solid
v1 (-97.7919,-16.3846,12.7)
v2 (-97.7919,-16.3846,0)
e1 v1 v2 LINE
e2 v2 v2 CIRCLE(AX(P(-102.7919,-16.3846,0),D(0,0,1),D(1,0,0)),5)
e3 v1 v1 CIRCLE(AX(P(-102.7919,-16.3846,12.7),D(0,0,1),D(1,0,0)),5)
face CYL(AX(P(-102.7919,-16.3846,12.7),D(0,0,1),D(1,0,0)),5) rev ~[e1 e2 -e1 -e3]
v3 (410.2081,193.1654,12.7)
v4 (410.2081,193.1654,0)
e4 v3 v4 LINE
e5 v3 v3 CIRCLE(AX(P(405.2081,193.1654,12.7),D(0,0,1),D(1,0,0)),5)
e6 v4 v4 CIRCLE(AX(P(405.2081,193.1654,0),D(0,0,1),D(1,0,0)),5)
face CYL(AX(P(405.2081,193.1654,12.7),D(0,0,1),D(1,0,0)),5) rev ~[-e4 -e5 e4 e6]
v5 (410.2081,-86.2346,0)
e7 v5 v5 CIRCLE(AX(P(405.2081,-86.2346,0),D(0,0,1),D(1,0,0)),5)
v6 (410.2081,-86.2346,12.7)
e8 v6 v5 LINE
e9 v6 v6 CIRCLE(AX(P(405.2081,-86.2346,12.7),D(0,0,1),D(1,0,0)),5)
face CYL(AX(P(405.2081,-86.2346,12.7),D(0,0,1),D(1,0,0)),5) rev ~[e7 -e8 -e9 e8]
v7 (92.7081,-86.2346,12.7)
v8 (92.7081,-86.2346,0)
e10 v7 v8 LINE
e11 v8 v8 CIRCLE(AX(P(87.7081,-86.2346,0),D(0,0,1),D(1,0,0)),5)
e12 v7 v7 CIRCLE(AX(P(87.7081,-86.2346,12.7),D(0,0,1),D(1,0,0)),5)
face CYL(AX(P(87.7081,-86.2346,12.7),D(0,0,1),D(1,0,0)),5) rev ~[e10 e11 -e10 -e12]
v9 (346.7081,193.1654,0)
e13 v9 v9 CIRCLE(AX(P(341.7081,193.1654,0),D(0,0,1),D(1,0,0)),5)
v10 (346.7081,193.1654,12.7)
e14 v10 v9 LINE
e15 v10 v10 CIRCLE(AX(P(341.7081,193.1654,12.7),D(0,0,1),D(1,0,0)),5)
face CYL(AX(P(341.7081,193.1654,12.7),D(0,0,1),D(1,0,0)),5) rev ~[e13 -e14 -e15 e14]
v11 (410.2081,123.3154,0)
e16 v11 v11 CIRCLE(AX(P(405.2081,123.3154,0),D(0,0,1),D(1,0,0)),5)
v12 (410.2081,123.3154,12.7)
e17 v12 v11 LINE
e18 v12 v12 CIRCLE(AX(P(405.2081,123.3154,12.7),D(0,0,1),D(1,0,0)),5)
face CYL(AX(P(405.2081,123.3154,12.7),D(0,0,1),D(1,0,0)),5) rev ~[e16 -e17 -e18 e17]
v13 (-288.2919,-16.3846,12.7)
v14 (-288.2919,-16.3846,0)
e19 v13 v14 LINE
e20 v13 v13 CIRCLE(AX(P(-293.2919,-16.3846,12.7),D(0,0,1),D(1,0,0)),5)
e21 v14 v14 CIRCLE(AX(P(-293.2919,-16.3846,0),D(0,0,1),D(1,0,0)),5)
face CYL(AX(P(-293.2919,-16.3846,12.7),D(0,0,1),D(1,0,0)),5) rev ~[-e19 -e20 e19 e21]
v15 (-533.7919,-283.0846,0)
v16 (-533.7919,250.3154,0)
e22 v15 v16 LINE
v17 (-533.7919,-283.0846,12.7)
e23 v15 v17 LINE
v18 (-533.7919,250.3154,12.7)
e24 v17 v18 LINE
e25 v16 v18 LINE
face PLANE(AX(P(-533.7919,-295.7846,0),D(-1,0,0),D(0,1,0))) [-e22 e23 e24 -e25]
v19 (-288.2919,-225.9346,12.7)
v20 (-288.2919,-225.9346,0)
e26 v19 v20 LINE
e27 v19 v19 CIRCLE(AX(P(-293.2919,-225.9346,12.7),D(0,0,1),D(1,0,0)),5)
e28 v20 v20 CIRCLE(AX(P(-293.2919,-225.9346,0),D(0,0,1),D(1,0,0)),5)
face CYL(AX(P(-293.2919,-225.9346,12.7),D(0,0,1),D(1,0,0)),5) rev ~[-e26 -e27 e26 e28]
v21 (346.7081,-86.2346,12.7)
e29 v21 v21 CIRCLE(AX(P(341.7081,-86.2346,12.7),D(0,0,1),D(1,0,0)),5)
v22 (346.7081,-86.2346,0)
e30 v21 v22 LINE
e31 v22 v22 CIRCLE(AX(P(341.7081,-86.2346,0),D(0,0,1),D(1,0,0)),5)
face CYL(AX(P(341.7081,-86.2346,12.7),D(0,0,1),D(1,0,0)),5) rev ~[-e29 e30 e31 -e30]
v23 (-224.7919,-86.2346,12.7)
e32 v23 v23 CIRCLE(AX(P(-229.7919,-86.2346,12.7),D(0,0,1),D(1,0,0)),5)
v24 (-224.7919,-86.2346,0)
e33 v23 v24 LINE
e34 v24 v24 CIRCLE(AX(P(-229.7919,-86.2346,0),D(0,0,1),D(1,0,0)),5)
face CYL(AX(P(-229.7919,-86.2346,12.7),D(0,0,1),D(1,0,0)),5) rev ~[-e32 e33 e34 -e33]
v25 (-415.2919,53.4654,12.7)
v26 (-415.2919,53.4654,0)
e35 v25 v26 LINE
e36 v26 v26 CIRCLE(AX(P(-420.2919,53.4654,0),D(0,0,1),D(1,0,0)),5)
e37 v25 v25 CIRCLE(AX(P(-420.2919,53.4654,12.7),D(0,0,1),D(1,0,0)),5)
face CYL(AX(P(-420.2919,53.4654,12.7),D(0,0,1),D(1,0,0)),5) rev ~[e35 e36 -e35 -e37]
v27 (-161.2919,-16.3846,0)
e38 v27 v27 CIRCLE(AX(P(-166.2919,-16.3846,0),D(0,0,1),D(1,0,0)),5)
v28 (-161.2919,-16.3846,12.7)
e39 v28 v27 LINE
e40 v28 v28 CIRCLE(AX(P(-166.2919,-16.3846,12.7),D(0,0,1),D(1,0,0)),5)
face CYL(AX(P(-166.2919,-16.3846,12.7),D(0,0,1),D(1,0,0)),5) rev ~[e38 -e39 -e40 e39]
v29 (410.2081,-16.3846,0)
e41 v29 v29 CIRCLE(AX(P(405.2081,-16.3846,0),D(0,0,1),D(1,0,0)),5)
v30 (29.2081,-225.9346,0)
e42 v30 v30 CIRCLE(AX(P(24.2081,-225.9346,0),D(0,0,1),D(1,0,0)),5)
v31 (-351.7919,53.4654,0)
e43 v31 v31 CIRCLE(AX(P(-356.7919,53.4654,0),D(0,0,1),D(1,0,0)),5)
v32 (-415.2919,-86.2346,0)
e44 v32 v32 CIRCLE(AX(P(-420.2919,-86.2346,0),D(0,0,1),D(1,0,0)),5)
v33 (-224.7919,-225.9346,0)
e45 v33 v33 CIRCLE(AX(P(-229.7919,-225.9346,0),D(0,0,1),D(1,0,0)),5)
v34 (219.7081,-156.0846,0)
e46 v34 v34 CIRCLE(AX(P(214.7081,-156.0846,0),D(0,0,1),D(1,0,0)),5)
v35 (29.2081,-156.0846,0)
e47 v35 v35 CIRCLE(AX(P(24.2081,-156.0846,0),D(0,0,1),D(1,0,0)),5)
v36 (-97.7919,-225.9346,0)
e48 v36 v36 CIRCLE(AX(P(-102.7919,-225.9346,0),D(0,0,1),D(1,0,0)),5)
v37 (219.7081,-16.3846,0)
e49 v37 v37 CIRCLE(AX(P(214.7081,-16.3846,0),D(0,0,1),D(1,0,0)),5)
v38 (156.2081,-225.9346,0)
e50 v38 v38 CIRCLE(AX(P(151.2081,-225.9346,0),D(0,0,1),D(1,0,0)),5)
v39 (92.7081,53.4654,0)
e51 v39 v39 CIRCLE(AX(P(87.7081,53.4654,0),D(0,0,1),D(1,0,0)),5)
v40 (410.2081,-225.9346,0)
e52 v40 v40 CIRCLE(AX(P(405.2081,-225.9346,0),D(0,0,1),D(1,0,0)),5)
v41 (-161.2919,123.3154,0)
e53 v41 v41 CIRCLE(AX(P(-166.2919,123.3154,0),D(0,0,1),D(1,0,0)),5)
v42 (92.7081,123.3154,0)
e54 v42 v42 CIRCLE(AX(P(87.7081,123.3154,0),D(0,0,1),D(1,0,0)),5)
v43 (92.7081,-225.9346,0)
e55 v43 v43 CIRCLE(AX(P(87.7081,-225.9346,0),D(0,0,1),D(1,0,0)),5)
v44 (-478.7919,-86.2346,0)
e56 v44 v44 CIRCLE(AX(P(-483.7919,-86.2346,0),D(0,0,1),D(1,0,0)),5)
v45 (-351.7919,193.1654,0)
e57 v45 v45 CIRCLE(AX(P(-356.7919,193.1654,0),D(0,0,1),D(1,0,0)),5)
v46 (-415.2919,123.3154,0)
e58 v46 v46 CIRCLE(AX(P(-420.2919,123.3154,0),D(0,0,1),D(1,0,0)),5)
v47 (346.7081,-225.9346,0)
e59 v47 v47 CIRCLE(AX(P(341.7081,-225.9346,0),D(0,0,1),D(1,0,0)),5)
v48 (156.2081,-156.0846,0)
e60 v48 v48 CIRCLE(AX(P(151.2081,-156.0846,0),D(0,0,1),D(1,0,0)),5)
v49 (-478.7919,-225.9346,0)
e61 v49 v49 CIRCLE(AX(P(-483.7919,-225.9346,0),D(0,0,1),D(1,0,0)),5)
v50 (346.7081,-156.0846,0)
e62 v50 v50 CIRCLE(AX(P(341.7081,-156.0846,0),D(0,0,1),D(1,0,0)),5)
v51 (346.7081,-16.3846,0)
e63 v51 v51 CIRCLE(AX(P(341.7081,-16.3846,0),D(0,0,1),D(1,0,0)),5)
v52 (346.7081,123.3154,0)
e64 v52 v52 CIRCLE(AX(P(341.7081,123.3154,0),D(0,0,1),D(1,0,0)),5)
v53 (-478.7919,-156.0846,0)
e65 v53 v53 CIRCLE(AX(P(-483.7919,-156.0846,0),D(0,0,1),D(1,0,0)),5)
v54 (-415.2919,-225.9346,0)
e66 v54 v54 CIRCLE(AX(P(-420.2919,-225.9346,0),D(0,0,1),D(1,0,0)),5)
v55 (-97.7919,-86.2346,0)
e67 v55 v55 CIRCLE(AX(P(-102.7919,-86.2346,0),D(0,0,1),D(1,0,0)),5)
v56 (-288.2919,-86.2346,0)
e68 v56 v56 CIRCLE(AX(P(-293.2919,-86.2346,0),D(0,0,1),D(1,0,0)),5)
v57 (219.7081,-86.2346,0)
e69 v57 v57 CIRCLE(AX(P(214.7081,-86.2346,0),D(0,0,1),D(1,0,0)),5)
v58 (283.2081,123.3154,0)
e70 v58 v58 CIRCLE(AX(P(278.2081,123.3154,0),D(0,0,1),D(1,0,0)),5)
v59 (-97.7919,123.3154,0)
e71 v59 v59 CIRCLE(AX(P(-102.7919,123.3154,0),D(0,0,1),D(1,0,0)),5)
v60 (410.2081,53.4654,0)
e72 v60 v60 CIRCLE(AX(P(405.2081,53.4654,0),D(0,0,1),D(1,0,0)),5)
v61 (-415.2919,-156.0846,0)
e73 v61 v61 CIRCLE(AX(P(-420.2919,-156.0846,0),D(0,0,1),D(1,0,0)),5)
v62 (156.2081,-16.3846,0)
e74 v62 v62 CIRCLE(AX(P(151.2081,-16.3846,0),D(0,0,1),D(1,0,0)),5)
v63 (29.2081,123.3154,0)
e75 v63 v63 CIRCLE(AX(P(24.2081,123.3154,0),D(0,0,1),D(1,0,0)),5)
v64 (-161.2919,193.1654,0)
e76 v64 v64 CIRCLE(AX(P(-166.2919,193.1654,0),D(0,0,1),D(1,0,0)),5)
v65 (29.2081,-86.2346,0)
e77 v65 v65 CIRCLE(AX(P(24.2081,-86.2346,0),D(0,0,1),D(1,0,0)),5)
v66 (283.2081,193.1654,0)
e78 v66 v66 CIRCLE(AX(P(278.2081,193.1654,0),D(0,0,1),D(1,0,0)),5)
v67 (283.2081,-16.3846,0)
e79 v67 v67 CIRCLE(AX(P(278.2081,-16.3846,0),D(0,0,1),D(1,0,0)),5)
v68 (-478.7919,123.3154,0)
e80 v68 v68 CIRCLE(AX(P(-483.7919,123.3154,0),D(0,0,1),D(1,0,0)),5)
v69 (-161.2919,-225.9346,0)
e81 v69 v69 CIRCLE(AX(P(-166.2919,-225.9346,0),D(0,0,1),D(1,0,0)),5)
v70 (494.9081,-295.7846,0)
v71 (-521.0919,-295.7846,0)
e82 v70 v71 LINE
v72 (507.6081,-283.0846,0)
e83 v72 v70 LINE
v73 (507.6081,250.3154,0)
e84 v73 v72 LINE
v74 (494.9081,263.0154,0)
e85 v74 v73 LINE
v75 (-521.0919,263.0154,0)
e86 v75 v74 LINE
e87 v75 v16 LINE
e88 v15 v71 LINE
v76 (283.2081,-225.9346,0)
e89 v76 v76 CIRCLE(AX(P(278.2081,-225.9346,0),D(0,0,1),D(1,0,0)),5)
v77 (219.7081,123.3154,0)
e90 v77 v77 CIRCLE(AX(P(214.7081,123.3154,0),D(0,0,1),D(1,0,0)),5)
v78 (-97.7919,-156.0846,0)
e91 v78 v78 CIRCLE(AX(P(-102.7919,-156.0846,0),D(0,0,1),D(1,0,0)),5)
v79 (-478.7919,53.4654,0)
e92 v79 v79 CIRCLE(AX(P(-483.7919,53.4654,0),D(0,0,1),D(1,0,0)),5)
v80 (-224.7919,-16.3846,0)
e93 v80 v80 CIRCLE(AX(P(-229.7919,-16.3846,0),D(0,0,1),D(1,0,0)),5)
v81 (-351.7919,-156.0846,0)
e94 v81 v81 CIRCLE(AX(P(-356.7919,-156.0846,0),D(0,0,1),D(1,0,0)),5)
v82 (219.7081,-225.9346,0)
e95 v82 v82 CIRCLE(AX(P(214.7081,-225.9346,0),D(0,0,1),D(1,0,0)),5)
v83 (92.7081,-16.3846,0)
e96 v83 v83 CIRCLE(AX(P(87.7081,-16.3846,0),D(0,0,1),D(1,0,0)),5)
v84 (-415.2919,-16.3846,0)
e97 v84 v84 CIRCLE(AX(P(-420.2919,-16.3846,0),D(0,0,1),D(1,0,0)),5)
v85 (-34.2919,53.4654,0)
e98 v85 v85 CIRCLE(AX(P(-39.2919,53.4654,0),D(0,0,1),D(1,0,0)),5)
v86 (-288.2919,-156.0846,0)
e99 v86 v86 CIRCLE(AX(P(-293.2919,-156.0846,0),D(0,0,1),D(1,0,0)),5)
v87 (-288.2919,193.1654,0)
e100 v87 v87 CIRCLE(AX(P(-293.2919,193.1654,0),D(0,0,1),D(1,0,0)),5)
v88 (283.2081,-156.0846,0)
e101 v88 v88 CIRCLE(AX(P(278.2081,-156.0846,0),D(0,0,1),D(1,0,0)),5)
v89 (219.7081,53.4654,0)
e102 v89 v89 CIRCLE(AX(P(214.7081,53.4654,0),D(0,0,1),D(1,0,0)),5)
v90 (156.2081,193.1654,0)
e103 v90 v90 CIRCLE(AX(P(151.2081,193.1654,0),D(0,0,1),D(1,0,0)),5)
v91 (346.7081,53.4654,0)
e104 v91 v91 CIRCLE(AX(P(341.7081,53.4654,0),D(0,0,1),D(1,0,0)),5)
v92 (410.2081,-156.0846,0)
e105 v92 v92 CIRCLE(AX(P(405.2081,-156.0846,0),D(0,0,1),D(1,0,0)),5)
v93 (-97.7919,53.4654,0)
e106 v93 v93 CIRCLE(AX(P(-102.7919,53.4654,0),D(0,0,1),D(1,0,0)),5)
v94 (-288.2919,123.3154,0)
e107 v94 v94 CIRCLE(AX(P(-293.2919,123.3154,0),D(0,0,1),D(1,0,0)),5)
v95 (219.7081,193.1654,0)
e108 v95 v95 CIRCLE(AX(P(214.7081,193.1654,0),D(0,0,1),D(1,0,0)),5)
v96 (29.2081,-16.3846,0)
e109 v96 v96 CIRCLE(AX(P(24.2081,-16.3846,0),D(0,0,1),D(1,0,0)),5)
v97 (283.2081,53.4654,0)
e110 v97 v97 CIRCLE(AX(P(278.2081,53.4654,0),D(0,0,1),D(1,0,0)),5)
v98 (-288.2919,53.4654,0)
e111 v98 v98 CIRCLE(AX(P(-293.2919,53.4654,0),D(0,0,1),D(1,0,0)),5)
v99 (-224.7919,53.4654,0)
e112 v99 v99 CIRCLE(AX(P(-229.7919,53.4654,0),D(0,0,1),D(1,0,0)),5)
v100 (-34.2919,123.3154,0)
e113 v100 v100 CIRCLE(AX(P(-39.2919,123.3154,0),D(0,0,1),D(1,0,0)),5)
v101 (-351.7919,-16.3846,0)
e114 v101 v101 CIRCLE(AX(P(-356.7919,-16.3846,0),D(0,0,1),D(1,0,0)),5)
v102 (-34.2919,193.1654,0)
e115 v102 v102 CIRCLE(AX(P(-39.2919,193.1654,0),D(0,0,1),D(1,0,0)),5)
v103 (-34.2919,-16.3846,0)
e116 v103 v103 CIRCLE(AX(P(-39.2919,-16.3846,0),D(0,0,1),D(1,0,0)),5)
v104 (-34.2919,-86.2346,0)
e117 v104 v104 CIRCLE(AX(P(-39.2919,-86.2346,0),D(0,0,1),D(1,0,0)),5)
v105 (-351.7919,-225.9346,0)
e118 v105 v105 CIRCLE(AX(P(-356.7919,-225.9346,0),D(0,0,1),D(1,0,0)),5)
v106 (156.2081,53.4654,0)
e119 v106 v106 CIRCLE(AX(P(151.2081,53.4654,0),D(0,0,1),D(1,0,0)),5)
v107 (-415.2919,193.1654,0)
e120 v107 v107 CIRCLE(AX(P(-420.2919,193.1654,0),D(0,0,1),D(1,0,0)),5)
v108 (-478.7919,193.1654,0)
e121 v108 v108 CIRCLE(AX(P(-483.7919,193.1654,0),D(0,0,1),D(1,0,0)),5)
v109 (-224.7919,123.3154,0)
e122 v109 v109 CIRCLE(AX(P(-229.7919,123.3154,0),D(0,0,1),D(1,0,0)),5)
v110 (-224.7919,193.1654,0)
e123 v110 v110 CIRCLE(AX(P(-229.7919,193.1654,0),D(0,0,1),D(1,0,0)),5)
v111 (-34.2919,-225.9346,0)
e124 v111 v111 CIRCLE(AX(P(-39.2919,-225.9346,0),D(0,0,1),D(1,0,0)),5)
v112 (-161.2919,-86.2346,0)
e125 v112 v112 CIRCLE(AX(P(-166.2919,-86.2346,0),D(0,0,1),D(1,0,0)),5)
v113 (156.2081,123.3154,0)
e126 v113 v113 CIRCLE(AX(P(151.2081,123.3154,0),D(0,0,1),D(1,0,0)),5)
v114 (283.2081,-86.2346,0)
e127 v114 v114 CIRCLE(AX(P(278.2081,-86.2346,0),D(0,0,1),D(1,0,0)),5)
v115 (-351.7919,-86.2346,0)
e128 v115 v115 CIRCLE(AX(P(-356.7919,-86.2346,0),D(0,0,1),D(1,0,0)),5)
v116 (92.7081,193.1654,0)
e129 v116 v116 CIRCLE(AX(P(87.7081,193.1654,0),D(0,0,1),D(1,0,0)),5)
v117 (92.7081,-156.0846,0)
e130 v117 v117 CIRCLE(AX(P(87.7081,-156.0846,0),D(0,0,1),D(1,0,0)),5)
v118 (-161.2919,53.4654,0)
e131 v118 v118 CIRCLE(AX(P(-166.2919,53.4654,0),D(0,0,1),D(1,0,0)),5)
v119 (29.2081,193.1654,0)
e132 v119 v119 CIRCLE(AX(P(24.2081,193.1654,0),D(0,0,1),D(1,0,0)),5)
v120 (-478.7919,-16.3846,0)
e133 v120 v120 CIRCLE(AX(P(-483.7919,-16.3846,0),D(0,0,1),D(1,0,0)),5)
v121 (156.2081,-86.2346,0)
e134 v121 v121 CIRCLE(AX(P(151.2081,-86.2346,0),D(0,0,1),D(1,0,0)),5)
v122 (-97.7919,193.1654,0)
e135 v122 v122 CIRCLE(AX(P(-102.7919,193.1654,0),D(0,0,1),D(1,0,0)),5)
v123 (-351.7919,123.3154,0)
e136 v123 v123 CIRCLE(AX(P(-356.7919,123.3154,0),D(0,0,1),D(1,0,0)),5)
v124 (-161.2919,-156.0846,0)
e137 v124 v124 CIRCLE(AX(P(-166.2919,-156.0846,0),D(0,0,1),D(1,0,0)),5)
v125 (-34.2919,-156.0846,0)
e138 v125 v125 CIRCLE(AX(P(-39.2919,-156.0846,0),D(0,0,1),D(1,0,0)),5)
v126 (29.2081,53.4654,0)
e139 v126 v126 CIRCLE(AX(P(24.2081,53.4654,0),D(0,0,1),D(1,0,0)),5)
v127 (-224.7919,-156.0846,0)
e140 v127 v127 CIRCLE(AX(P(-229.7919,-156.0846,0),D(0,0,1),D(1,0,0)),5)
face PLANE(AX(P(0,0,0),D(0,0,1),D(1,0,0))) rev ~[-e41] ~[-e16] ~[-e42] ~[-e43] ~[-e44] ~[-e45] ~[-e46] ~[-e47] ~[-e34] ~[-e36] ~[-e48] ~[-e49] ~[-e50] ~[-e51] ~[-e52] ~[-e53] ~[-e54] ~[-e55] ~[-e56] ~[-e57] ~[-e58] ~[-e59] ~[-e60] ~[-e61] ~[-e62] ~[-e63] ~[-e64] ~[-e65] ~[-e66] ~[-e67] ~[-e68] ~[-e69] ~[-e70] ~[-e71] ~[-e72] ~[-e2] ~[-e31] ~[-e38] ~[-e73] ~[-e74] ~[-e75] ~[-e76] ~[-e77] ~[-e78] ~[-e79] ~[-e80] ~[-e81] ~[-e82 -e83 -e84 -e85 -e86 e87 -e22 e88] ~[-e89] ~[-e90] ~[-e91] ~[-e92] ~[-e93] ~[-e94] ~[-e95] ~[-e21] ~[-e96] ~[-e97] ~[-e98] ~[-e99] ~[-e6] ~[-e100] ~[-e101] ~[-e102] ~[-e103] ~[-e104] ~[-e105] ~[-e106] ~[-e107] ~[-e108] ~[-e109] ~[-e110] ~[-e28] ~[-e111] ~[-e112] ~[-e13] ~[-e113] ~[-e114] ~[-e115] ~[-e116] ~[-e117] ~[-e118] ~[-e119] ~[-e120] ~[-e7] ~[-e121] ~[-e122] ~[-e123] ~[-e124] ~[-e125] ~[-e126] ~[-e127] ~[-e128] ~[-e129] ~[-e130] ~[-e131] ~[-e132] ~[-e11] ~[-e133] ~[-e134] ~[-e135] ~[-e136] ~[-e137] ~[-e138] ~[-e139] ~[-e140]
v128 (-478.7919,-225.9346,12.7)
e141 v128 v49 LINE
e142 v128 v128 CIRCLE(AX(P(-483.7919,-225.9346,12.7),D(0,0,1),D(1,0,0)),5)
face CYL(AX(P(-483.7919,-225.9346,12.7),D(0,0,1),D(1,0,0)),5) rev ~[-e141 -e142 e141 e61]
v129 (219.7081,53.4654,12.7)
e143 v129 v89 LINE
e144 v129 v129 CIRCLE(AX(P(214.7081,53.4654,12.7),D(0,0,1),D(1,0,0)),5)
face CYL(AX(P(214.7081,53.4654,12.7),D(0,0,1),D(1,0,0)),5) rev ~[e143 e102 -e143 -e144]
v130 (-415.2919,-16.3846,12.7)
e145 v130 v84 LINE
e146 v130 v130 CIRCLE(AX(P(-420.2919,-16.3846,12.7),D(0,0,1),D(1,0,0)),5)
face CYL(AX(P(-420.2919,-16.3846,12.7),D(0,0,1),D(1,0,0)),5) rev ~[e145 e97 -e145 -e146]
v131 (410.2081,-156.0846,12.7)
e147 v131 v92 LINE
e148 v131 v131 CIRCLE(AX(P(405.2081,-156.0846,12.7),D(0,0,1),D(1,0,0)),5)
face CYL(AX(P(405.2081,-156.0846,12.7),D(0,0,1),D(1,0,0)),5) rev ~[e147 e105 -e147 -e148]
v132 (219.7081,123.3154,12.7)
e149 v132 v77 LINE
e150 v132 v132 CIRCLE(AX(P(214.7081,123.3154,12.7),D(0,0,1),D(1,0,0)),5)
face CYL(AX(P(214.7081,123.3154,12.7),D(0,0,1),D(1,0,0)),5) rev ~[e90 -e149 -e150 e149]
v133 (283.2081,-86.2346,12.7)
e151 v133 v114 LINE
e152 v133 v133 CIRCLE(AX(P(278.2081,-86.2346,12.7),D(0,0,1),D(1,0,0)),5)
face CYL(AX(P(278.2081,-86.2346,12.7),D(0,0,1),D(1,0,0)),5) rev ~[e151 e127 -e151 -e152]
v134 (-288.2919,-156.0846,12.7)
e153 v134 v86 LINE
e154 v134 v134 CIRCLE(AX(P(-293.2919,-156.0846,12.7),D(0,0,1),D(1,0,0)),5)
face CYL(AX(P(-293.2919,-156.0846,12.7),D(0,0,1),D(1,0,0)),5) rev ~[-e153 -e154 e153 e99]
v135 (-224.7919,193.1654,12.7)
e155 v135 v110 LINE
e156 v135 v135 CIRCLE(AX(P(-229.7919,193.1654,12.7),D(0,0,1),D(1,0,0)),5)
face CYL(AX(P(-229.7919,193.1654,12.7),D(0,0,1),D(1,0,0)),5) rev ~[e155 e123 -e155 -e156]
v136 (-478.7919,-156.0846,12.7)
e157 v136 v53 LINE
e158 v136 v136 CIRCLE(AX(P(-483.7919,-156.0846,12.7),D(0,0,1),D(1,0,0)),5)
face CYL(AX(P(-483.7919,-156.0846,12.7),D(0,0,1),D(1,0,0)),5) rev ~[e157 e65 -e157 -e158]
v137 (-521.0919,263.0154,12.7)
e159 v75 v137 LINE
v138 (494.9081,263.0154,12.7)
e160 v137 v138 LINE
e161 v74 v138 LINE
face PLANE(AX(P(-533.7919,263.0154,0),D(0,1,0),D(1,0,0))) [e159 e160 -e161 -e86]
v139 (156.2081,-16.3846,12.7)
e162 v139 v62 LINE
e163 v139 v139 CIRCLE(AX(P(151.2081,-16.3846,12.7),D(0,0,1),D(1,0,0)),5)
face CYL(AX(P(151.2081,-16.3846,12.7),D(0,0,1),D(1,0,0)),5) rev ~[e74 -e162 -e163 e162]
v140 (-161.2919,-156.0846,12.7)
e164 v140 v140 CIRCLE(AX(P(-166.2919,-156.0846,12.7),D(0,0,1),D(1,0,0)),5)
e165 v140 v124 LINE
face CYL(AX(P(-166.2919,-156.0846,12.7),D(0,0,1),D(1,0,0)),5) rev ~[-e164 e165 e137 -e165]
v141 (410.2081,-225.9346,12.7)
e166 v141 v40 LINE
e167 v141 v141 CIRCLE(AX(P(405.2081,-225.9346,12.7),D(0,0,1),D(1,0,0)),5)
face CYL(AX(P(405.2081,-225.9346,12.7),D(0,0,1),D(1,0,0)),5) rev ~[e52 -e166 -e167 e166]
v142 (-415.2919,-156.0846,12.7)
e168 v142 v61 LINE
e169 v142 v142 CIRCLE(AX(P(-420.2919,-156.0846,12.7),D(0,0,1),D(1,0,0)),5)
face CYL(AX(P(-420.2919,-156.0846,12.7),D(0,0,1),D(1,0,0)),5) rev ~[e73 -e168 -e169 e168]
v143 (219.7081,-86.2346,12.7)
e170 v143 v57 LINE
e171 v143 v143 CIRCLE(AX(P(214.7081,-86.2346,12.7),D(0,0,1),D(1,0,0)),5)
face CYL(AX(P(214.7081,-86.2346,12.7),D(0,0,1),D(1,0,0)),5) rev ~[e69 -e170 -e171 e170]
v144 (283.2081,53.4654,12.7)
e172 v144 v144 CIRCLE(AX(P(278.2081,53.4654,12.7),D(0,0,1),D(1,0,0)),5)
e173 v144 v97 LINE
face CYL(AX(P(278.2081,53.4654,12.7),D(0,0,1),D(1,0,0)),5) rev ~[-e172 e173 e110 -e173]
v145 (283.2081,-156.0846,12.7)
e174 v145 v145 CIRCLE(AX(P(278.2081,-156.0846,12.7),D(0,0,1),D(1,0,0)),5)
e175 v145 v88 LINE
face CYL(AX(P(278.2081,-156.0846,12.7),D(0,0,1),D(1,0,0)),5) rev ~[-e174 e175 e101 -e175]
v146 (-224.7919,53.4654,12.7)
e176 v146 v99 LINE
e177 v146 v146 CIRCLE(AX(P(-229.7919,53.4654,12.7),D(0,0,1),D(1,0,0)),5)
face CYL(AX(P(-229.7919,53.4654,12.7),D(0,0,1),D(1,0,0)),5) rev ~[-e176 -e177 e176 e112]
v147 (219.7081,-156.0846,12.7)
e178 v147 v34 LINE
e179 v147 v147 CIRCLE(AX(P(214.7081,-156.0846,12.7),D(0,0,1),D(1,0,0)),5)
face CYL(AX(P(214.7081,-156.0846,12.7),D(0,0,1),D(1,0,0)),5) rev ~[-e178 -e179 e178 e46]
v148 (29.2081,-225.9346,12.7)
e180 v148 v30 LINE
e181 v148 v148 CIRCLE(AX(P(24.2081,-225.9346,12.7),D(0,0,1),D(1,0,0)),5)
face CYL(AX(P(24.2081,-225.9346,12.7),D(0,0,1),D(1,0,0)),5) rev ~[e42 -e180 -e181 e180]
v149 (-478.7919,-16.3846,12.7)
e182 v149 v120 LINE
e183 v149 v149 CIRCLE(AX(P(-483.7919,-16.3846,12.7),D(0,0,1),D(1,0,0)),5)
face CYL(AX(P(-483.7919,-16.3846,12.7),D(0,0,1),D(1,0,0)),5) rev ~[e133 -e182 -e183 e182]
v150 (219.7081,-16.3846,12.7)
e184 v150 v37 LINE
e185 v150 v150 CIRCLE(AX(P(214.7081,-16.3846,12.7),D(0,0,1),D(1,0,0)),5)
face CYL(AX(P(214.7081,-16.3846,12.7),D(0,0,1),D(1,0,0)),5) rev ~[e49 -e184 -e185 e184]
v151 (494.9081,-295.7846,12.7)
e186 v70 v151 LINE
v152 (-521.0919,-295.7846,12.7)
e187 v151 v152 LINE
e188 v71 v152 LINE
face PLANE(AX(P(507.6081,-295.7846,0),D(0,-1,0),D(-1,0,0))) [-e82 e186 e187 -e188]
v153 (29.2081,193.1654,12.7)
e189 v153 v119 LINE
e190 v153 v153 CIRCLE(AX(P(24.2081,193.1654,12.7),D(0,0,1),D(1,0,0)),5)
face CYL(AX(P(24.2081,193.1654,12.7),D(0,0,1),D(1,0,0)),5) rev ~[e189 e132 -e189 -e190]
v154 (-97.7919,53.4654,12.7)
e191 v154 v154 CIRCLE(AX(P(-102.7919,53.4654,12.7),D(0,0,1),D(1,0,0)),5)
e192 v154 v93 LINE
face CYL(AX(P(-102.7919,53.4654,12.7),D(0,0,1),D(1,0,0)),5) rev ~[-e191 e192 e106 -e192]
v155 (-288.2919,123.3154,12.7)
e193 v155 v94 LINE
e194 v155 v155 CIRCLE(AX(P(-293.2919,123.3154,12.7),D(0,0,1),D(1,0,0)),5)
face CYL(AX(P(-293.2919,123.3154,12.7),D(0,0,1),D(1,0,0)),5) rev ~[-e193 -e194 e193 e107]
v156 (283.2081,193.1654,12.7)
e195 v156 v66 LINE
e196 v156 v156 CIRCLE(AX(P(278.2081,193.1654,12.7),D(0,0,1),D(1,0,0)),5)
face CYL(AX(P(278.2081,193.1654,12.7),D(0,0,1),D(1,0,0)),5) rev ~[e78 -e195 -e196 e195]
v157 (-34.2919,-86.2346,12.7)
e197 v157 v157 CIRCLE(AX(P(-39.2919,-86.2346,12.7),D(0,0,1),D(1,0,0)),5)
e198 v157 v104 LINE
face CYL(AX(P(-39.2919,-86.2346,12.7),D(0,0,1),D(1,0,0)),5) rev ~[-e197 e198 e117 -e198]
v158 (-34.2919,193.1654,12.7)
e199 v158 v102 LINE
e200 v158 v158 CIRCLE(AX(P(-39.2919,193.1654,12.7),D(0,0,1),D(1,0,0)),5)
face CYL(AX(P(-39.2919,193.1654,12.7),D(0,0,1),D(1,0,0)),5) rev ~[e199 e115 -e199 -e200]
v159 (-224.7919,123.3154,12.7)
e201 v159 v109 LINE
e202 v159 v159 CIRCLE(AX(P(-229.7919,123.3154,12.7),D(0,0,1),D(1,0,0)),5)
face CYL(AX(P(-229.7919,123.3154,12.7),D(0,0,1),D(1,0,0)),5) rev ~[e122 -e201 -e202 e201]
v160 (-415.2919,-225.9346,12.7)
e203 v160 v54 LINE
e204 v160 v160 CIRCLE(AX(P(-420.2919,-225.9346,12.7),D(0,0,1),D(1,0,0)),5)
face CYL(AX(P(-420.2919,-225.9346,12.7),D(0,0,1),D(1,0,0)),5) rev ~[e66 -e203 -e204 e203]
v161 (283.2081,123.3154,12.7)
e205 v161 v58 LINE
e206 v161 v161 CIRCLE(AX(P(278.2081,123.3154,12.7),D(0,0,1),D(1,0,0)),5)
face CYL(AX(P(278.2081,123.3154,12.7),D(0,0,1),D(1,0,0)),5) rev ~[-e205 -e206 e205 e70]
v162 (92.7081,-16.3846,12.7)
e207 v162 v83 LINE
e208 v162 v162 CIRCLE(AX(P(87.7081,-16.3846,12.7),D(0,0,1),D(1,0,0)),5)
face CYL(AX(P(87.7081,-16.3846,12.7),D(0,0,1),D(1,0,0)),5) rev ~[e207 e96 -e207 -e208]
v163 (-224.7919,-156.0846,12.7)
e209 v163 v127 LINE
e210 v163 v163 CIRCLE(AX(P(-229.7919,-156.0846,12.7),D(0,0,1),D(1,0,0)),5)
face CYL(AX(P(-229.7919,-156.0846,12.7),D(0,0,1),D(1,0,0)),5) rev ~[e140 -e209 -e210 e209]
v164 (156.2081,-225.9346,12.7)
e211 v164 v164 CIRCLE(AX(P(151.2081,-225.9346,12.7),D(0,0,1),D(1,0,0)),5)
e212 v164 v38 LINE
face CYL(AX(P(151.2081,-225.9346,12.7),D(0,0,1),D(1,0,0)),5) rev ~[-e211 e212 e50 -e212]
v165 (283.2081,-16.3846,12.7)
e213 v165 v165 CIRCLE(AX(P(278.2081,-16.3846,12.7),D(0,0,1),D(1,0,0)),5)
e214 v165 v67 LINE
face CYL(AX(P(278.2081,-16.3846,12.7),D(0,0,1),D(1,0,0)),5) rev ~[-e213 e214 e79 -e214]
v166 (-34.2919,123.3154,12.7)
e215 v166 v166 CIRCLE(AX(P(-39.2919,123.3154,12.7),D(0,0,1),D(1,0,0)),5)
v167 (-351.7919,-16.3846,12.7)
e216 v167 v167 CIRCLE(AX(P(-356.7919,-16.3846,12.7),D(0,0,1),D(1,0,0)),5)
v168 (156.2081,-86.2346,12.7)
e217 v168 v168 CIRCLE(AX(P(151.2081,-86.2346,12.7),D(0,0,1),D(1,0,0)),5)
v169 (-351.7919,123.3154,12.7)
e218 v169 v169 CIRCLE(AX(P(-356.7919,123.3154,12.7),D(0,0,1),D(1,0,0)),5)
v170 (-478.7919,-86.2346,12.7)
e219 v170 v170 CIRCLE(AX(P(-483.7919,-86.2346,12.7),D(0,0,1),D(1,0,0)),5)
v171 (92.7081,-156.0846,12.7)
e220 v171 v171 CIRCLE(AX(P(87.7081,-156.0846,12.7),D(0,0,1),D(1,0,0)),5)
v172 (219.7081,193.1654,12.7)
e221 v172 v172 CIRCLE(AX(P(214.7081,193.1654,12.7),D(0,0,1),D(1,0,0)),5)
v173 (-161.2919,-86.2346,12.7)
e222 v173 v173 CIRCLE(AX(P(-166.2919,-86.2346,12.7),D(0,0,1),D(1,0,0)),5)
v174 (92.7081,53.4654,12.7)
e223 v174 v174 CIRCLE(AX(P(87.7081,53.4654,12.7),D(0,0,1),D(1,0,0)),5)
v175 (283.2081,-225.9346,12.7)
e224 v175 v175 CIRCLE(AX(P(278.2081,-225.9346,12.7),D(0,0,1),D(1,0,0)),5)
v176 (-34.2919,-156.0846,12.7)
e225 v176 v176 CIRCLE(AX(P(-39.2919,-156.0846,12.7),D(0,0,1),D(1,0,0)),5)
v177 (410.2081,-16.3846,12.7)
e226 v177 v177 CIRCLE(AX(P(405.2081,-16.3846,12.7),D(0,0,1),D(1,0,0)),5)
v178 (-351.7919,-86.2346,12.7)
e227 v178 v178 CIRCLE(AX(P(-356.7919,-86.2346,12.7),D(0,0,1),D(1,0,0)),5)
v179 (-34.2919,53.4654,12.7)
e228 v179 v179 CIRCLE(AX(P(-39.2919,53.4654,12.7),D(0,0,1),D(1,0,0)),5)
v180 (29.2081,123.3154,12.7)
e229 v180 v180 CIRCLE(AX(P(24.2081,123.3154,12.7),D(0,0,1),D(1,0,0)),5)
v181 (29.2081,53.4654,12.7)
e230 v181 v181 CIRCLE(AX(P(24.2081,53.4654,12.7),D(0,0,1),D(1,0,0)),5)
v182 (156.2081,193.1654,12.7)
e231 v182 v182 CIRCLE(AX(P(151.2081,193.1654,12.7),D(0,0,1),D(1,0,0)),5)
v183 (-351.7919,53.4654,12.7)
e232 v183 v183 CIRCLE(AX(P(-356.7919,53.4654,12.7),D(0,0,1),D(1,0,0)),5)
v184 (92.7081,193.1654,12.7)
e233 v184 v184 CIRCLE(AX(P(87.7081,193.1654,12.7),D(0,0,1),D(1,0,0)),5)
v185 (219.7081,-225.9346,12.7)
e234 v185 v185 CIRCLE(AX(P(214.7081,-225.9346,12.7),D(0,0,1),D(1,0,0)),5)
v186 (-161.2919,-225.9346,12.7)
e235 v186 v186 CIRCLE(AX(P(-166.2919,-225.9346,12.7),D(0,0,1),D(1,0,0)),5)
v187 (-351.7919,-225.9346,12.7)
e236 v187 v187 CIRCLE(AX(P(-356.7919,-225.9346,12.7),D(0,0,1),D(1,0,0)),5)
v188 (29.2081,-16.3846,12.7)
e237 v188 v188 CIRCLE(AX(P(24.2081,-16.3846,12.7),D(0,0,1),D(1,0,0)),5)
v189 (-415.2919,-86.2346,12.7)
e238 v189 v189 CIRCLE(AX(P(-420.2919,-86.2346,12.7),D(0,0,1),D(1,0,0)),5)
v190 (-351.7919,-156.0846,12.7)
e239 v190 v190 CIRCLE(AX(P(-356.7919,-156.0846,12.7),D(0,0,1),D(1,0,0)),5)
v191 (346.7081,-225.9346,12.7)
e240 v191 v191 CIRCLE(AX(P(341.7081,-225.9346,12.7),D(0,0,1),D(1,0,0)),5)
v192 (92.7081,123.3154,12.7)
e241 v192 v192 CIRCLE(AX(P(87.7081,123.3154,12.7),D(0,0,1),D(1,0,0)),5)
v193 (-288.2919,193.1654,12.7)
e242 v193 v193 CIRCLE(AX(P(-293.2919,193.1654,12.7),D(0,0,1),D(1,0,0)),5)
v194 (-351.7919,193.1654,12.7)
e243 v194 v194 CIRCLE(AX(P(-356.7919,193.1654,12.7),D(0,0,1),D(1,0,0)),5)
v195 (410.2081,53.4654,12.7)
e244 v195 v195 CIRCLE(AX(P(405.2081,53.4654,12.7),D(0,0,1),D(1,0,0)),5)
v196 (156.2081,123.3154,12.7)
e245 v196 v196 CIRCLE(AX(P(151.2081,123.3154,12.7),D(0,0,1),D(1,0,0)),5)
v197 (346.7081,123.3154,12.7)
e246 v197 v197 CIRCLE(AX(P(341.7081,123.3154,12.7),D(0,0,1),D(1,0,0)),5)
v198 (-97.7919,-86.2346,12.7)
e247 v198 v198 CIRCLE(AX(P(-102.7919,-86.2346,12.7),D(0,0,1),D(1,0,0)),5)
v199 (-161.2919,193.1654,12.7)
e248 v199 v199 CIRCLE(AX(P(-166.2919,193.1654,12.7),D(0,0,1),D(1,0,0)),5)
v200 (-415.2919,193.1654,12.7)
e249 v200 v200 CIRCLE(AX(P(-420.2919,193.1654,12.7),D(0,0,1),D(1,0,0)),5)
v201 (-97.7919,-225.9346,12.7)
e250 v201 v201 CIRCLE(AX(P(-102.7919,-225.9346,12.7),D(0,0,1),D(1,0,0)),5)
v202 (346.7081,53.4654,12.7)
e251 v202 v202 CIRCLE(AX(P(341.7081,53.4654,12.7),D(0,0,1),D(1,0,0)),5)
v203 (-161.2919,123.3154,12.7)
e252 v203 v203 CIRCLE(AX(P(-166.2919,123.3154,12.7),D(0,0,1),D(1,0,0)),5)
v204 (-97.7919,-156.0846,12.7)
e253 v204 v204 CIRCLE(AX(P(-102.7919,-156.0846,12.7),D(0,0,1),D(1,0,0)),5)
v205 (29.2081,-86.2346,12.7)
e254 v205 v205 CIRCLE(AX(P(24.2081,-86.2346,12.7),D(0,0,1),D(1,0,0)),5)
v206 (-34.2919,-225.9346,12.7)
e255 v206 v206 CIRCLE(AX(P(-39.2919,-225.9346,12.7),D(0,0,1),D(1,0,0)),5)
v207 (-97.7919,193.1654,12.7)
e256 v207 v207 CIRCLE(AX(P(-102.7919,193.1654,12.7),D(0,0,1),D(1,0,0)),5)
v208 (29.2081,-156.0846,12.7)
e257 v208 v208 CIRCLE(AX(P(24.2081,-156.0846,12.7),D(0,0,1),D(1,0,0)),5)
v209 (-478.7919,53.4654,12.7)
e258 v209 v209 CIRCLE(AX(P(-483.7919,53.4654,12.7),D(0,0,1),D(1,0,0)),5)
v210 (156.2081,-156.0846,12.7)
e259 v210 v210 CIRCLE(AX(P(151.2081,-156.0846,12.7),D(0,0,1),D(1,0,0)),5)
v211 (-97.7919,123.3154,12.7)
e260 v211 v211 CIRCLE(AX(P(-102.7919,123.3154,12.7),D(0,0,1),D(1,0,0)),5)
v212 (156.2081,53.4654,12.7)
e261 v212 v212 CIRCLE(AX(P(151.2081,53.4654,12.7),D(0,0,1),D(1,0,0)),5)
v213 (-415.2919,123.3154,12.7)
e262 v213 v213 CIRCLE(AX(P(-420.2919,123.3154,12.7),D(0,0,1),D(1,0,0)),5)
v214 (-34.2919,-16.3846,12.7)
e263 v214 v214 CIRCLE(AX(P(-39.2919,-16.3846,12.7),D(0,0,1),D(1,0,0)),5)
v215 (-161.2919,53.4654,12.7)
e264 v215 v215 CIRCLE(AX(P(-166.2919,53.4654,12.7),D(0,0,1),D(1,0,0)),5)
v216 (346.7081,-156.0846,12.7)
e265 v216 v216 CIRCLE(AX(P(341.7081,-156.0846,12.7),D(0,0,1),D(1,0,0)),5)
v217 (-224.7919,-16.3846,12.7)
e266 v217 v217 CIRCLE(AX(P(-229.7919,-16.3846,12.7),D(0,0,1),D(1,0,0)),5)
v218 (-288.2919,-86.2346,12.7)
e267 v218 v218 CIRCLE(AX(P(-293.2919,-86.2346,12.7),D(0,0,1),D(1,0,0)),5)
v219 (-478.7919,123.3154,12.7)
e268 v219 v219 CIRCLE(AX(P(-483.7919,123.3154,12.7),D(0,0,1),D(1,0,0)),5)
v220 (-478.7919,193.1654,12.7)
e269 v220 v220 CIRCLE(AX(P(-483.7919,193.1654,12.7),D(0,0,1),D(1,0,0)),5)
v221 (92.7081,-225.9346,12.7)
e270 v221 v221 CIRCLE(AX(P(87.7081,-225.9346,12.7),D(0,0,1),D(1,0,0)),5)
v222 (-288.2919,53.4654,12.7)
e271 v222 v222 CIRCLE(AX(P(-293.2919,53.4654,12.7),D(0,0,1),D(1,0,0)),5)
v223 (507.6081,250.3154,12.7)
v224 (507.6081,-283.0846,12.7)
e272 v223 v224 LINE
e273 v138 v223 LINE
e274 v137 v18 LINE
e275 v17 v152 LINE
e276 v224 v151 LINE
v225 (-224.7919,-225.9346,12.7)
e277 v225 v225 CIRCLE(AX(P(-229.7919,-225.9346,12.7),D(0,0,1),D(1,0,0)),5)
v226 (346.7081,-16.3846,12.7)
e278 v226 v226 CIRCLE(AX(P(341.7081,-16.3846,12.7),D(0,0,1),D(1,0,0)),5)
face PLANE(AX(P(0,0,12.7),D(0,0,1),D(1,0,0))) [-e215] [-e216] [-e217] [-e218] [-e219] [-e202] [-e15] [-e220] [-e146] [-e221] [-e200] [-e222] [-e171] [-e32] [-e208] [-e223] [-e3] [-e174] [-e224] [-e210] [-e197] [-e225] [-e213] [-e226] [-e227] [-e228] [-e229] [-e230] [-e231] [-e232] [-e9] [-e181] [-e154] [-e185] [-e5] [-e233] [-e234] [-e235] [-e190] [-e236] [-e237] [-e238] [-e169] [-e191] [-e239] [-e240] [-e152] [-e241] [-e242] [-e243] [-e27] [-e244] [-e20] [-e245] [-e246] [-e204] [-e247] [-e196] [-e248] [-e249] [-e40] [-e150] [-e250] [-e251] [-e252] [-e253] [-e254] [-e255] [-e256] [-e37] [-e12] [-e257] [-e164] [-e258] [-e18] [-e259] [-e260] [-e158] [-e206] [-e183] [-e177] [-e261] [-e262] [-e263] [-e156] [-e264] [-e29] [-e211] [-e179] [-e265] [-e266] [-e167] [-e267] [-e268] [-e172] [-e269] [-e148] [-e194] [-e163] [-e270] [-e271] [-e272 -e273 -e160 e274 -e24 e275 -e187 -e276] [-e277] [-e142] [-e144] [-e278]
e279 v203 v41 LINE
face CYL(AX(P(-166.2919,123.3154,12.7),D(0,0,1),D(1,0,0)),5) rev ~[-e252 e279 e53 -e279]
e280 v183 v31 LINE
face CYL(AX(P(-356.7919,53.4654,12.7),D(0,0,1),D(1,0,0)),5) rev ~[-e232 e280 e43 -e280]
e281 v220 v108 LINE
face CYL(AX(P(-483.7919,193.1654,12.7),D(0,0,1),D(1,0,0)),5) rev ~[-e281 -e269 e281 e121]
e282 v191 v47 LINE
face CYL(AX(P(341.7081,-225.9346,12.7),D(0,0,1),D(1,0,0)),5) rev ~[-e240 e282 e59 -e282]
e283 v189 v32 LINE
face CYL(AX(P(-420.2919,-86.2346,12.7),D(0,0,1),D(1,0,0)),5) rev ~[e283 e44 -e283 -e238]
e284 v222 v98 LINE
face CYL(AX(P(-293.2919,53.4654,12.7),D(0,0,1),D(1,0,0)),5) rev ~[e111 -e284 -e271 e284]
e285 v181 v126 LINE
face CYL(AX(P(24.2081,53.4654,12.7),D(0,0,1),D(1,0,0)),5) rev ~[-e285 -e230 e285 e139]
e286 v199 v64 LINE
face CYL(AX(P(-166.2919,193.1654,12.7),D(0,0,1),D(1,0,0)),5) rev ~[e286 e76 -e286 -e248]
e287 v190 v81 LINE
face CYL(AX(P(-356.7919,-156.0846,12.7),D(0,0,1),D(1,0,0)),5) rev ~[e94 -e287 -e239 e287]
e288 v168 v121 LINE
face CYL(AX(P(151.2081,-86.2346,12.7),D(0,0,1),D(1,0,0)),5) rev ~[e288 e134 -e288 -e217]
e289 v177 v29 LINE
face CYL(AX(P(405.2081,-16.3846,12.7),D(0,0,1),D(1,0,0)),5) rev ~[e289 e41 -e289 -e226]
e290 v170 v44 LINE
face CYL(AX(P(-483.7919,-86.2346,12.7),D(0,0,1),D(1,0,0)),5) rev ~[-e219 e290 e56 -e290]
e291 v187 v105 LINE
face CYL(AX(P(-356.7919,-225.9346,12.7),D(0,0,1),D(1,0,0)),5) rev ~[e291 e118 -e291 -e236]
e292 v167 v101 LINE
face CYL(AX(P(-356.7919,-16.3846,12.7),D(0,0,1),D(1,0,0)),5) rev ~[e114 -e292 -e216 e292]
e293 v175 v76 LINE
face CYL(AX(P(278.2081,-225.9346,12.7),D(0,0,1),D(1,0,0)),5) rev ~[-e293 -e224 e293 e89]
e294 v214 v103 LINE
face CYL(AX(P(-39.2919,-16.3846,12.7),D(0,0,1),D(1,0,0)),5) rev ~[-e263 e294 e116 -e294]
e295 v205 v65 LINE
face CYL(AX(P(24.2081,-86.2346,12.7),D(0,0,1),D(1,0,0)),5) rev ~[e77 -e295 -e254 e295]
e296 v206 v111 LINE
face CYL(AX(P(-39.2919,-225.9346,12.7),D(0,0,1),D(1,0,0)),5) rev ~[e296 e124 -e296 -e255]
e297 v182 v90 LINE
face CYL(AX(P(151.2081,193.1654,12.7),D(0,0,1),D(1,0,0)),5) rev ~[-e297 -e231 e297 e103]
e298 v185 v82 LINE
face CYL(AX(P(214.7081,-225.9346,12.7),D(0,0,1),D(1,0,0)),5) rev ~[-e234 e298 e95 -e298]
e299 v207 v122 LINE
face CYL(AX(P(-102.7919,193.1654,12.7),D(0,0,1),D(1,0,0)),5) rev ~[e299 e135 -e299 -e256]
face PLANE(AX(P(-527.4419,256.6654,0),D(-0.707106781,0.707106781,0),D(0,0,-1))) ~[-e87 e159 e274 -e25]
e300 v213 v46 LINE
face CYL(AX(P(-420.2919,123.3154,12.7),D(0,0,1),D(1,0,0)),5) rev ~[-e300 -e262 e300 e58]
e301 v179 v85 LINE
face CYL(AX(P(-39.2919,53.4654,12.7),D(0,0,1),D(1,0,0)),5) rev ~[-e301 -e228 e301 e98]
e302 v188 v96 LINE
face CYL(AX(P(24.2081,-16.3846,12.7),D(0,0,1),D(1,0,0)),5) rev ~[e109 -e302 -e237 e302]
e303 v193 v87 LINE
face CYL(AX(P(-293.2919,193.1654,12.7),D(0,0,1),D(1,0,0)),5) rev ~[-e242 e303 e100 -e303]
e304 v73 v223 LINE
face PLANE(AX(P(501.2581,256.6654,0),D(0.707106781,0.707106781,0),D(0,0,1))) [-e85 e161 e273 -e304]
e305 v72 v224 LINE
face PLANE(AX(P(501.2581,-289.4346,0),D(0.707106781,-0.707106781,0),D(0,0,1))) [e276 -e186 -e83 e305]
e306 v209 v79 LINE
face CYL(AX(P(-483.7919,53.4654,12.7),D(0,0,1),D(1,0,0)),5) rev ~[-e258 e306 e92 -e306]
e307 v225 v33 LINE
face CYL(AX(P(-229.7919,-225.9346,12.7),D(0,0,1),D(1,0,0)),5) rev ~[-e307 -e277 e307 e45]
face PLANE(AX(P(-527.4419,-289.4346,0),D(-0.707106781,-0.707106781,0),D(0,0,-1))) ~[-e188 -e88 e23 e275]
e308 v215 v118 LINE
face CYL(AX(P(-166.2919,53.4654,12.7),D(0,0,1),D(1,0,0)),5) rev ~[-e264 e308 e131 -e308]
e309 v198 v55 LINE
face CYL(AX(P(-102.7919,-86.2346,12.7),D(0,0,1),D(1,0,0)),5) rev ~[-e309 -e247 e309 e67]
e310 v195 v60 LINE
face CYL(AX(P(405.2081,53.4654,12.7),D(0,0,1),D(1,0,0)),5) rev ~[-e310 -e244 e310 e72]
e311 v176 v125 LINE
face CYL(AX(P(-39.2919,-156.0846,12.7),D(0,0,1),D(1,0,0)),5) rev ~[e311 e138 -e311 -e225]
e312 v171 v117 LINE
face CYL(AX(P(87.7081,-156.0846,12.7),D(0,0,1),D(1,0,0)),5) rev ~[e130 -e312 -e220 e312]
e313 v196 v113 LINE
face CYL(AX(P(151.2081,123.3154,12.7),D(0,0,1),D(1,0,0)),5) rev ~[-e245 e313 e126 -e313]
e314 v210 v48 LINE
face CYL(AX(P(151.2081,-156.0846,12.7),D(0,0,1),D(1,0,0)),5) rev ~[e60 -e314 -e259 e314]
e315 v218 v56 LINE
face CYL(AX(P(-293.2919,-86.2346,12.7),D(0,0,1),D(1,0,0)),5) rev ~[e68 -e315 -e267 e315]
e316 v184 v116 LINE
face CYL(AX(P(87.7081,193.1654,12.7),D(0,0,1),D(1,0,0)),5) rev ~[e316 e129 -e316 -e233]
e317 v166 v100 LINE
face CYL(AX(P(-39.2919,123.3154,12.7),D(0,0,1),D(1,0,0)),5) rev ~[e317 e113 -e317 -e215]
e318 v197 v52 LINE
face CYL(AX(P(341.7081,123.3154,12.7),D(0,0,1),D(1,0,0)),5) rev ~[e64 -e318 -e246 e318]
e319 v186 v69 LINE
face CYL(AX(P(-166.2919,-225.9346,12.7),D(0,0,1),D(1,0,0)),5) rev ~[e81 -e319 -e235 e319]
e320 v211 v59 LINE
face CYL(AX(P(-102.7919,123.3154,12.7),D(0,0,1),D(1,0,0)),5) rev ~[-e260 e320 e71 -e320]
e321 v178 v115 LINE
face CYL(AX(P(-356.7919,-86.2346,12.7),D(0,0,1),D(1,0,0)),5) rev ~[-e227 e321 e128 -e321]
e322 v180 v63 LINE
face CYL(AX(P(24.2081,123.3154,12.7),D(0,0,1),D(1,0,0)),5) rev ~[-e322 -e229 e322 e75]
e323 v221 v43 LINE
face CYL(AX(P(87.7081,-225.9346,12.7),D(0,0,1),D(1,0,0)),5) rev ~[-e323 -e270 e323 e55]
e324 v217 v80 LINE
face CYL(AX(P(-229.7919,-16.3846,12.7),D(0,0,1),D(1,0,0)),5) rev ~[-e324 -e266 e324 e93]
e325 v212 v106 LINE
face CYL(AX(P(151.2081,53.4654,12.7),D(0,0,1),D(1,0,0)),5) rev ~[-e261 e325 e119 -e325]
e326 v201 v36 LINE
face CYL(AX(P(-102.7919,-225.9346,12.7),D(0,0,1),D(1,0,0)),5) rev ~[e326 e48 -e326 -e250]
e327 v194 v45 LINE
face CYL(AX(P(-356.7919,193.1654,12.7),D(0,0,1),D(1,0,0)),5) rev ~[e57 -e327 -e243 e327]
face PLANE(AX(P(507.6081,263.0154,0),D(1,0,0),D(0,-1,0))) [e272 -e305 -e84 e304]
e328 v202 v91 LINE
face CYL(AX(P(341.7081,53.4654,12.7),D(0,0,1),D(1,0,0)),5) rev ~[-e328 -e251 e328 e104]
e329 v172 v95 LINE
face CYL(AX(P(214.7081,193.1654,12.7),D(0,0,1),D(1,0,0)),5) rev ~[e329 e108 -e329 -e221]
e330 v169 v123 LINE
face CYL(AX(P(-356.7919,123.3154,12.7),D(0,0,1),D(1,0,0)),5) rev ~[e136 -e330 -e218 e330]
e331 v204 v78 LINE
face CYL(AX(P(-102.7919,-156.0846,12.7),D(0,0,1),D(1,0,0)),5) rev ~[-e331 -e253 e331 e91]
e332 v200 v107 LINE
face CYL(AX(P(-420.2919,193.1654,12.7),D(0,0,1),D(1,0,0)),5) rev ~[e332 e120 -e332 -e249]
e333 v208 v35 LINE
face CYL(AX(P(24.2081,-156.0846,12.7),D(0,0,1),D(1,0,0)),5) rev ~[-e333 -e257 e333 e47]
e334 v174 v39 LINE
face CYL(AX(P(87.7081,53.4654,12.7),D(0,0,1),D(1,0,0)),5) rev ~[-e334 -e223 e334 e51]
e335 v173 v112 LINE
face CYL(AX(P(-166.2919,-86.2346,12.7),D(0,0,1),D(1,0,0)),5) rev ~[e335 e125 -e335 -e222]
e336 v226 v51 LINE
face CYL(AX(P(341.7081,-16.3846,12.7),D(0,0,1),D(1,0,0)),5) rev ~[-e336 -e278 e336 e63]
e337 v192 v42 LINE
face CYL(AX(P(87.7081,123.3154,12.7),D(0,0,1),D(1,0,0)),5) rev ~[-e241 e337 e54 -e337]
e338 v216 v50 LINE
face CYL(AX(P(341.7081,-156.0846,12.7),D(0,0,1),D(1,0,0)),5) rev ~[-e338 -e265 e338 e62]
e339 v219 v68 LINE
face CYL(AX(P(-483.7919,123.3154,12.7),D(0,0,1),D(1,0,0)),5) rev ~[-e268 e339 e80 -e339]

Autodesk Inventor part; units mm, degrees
ref_plane "YZ Plane" through (0, 0, 0) normal (1, 0, 0) x (0, 1, 0)
ref_plane "XZ Plane" through (0, 0, 0) normal (0, 1, 0) x (-1, 0, 0)
ref_plane "XY Plane" through (0, 0, 0) normal (0, 0, 1) x (1, 0, 0)
sketch "Sketch1" plane through (0, 0, 0) normal (0, 0, 1) x (1, 0, 0)
  line L0 (-533.7919, 263.0154) -> (507.6081, 263.0154)
  line L1 (507.6081, 263.0154) -> (507.6081, -295.7846)
  line L2 (507.6081, -295.7846) -> (-533.7919, -295.7846)
  line L3 (-533.7919, -295.7846) -> (-533.7919, 263.0154)
  point P0 (0, 0)
  dimension "d0" = 558.8
  dimension "d1" = 1041.4
extrude "Extrusion1" add sketch "Sketch1" along normal blind 12.7
sketch "Sketch2" plane through (0, 0, 12.7) normal (0, 0, 1) x (1, 0, 0)
  line L0 (-533.7919, 263.0154) -> (-533.7919, -295.7846) construction
  line L1 (-533.7919, 193.1654) -> (507.6081, 193.1654) construction
  line L2 (507.6081, -295.7846) -> (507.6081, 263.0154) construction
  line L3 (-533.7919, 123.3154) -> (507.6081, 123.3154) construction
  line L4 (-533.7919, 53.4654) -> (507.6081, 53.4654) construction
  line L5 (-533.7919, -16.3846) -> (507.6081, -16.3846) construction
  line L6 (507.6081, 263.0154) -> (-533.7919, 263.0154) construction
  line L7 (-483.7919, 263.0154) -> (-483.7919, -16.3846) construction
  circle A0 centre (-483.7919, 193.1654) radius 5
  circle A1 centre (-483.7919, 123.3154) radius 5
  circle A2 centre (-483.7919, 53.4654) radius 5
  circle A3 centre (-483.7919, -16.3846) radius 5
  circle A4 centre (-483.7919, -225.9346) radius 5
  circle A5 centre (-483.7919, -156.0846) radius 5
  circle A6 centre (-483.7919, -86.2346) radius 5
  circle A7 centre (-483.7919, -16.3846) radius 5
  circle A8 centre (-420.2919, 193.1654) radius 5
  circle A9 centre (-420.2919, 123.3154) radius 5
  circle A10 centre (-420.2919, 53.4654) radius 5
  circle A11 centre (-420.2919, -16.3846) radius 5
  circle A12 centre (-420.2919, -86.2346) radius 5
  circle A13 centre (-420.2919, -156.0846) radius 5
  circle A14 centre (-420.2919, -225.9346) radius 5
  circle A15 centre (-356.7919, 193.1654) radius 5
  circle A16 centre (-356.7919, 123.3154) radius 5
  circle A17 centre (-356.7919, 53.4654) radius 5
  circle A18 centre (-356.7919, -16.3846) radius 5
  circle A19 centre (-356.7919, -86.2346) radius 5
  circle A20 centre (-356.7919, -156.0846) radius 5
  circle A21 centre (-356.7919, -225.9346) radius 5
  circle A22 centre (-293.2919, 193.1654) radius 5
  circle A23 centre (-293.2919, 123.3154) radius 5
  circle A24 centre (-293.2919, 53.4654) radius 5
  circle A25 centre (-293.2919, -16.3846) radius 5
  circle A26 centre (-293.2919, -86.2346) radius 5
  circle A27 centre (-293.2919, -156.0846) radius 5
  circle A28 centre (-293.2919, -225.9346) radius 5
  circle A29 centre (-229.7919, 193.1654) radius 5
  circle A30 centre (-229.7919, 123.3154) radius 5
  circle A31 centre (-229.7919, 53.4654) radius 5
  circle A32 centre (-229.7919, -16.3846) radius 5
  circle A33 centre (-229.7919, -86.2346) radius 5
  circle A34 centre (-229.7919, -156.0846) radius 5
  circle A35 centre (-229.7919, -225.9346) radius 5
  circle A36 centre (-166.2919, 193.1654) radius 5
  circle A37 centre (-166.2919, 123.3154) radius 5
  circle A38 centre (-166.2919, 53.4654) radius 5
  circle A39 centre (-166.2919, -16.3846) radius 5
  circle A40 centre (-166.2919, -86.2346) radius 5
  circle A41 centre (-166.2919, -156.0846) radius 5
  circle A42 centre (-166.2919, -225.9346) radius 5
  circle A43 centre (-102.7919, 193.1654) radius 5
  circle A44 centre (-102.7919, 123.3154) radius 5
  circle A45 centre (-102.7919, 53.4654) radius 5
  circle A46 centre (-102.7919, -16.3846) radius 5
  circle A47 centre (-102.7919, -86.2346) radius 5
  circle A48 centre (-102.7919, -156.0846) radius 5
  circle A49 centre (-102.7919, -225.9346) radius 5
  circle A50 centre (-39.2919, 193.1654) radius 5
  circle A51 centre (-39.2919, 123.3154) radius 5
  circle A52 centre (-39.2919, 53.4654) radius 5
  circle A53 centre (-39.2919, -16.3846) radius 5
  circle A54 centre (-39.2919, -86.2346) radius 5
  circle A55 centre (-39.2919, -156.0846) radius 5
  circle A56 centre (-39.2919, -225.9346) radius 5
  circle A57 centre (24.2081, 193.1654) radius 5
  circle A58 centre (24.2081, 123.3154) radius 5
  circle A59 centre (24.2081, 53.4654) radius 5
  circle A60 centre (24.2081, -16.3846) radius 5
  circle A61 centre (24.2081, -86.2346) radius 5
  circle A62 centre (24.2081, -156.0846) radius 5
  circle A63 centre (24.2081, -225.9346) radius 5
  circle A64 centre (87.7081, 193.1654) radius 5
  circle A65 centre (87.7081, 123.3154) radius 5
  circle A66 centre (87.7081, 53.4654) radius 5
  circle A67 centre (87.7081, -16.3846) radius 5
  circle A68 centre (87.7081, -86.2346) radius 5
  circle A69 centre (87.7081, -156.0846) radius 5
  circle A70 centre (87.7081, -225.9346) radius 5
  circle A71 centre (151.2081, 193.1654) radius 5
  circle A72 centre (151.2081, 123.3154) radius 5
  circle A73 centre (151.2081, 53.4654) radius 5
  circle A74 centre (151.2081, -16.3846) radius 5
  circle A75 centre (151.2081, -86.2346) radius 5
  circle A76 centre (151.2081, -156.0846) radius 5
  circle A77 centre (151.2081, -225.9346) radius 5
  circle A78 centre (214.7081, 193.1654) radius 5
  circle A79 centre (214.7081, 123.3154) radius 5
  circle A80 centre (214.7081, 53.4654) radius 5
  circle A81 centre (214.7081, -16.3846) radius 5
  circle A82 centre (214.7081, -86.2346) radius 5
  circle A83 centre (214.7081, -156.0846) radius 5
  circle A84 centre (214.7081, -225.9346) radius 5
  circle A85 centre (278.2081, 193.1654) radius 5
  circle A86 centre (278.2081, 123.3154) radius 5
  circle A87 centre (278.2081, 53.4654) radius 5
  circle A88 centre (278.2081, -16.3846) radius 5
  circle A89 centre (278.2081, -86.2346) radius 5
  circle A90 centre (278.2081, -156.0846) radius 5
  circle A91 centre (278.2081, -225.9346) radius 5
  circle A92 centre (341.7081, 193.1654) radius 5
  circle A93 centre (341.7081, 123.3154) radius 5
  circle A94 centre (341.7081, 53.4654) radius 5
  circle A95 centre (341.7081, -16.3846) radius 5
  circle A96 centre (341.7081, -86.2346) radius 5
  circle A97 centre (341.7081, -156.0846) radius 5
  circle A98 centre (341.7081, -225.9346) radius 5
  circle A99 centre (405.2081, 193.1654) radius 5
  circle A100 centre (405.2081, 123.3154) radius 5
  circle A101 centre (405.2081, 53.4654) radius 5
  circle A102 centre (405.2081, -16.3846) radius 5
  circle A103 centre (405.2081, -86.2346) radius 5
  circle A104 centre (405.2081, -156.0846) radius 5
  circle A105 centre (405.2081, -225.9346) radius 5
  point P0 (0, 0)
  dimension "d4" = 279.4
  dimension "d5" = 69.85
  dimension "d6" = 69.85
  dimension "d7" = 69.85
  dimension "d8" = 50
  dimension "d9" = 10
  dimension "d10" = 10
  dimension "d11" = 10
  dimension "d12" = 10
  dimension "d15" = 63.5
extrude "Extrusion2" cut sketch "Sketch2" against normal through all
chamfer "Chamfer1" distance 12.7 angle 45 4 edges at (-533.7919, -295.7846, 6.35) (-533.7919, 263.0154, 6.35) (507.6081, 263.0154, 6.35) (507.6081, -295.7846, 6.35)
equation "\"d5\" = 0.25 * d4"
equation "\"d6\" = 0.25 * d4"
equation "\"d7\" = 0.25 * d4"
